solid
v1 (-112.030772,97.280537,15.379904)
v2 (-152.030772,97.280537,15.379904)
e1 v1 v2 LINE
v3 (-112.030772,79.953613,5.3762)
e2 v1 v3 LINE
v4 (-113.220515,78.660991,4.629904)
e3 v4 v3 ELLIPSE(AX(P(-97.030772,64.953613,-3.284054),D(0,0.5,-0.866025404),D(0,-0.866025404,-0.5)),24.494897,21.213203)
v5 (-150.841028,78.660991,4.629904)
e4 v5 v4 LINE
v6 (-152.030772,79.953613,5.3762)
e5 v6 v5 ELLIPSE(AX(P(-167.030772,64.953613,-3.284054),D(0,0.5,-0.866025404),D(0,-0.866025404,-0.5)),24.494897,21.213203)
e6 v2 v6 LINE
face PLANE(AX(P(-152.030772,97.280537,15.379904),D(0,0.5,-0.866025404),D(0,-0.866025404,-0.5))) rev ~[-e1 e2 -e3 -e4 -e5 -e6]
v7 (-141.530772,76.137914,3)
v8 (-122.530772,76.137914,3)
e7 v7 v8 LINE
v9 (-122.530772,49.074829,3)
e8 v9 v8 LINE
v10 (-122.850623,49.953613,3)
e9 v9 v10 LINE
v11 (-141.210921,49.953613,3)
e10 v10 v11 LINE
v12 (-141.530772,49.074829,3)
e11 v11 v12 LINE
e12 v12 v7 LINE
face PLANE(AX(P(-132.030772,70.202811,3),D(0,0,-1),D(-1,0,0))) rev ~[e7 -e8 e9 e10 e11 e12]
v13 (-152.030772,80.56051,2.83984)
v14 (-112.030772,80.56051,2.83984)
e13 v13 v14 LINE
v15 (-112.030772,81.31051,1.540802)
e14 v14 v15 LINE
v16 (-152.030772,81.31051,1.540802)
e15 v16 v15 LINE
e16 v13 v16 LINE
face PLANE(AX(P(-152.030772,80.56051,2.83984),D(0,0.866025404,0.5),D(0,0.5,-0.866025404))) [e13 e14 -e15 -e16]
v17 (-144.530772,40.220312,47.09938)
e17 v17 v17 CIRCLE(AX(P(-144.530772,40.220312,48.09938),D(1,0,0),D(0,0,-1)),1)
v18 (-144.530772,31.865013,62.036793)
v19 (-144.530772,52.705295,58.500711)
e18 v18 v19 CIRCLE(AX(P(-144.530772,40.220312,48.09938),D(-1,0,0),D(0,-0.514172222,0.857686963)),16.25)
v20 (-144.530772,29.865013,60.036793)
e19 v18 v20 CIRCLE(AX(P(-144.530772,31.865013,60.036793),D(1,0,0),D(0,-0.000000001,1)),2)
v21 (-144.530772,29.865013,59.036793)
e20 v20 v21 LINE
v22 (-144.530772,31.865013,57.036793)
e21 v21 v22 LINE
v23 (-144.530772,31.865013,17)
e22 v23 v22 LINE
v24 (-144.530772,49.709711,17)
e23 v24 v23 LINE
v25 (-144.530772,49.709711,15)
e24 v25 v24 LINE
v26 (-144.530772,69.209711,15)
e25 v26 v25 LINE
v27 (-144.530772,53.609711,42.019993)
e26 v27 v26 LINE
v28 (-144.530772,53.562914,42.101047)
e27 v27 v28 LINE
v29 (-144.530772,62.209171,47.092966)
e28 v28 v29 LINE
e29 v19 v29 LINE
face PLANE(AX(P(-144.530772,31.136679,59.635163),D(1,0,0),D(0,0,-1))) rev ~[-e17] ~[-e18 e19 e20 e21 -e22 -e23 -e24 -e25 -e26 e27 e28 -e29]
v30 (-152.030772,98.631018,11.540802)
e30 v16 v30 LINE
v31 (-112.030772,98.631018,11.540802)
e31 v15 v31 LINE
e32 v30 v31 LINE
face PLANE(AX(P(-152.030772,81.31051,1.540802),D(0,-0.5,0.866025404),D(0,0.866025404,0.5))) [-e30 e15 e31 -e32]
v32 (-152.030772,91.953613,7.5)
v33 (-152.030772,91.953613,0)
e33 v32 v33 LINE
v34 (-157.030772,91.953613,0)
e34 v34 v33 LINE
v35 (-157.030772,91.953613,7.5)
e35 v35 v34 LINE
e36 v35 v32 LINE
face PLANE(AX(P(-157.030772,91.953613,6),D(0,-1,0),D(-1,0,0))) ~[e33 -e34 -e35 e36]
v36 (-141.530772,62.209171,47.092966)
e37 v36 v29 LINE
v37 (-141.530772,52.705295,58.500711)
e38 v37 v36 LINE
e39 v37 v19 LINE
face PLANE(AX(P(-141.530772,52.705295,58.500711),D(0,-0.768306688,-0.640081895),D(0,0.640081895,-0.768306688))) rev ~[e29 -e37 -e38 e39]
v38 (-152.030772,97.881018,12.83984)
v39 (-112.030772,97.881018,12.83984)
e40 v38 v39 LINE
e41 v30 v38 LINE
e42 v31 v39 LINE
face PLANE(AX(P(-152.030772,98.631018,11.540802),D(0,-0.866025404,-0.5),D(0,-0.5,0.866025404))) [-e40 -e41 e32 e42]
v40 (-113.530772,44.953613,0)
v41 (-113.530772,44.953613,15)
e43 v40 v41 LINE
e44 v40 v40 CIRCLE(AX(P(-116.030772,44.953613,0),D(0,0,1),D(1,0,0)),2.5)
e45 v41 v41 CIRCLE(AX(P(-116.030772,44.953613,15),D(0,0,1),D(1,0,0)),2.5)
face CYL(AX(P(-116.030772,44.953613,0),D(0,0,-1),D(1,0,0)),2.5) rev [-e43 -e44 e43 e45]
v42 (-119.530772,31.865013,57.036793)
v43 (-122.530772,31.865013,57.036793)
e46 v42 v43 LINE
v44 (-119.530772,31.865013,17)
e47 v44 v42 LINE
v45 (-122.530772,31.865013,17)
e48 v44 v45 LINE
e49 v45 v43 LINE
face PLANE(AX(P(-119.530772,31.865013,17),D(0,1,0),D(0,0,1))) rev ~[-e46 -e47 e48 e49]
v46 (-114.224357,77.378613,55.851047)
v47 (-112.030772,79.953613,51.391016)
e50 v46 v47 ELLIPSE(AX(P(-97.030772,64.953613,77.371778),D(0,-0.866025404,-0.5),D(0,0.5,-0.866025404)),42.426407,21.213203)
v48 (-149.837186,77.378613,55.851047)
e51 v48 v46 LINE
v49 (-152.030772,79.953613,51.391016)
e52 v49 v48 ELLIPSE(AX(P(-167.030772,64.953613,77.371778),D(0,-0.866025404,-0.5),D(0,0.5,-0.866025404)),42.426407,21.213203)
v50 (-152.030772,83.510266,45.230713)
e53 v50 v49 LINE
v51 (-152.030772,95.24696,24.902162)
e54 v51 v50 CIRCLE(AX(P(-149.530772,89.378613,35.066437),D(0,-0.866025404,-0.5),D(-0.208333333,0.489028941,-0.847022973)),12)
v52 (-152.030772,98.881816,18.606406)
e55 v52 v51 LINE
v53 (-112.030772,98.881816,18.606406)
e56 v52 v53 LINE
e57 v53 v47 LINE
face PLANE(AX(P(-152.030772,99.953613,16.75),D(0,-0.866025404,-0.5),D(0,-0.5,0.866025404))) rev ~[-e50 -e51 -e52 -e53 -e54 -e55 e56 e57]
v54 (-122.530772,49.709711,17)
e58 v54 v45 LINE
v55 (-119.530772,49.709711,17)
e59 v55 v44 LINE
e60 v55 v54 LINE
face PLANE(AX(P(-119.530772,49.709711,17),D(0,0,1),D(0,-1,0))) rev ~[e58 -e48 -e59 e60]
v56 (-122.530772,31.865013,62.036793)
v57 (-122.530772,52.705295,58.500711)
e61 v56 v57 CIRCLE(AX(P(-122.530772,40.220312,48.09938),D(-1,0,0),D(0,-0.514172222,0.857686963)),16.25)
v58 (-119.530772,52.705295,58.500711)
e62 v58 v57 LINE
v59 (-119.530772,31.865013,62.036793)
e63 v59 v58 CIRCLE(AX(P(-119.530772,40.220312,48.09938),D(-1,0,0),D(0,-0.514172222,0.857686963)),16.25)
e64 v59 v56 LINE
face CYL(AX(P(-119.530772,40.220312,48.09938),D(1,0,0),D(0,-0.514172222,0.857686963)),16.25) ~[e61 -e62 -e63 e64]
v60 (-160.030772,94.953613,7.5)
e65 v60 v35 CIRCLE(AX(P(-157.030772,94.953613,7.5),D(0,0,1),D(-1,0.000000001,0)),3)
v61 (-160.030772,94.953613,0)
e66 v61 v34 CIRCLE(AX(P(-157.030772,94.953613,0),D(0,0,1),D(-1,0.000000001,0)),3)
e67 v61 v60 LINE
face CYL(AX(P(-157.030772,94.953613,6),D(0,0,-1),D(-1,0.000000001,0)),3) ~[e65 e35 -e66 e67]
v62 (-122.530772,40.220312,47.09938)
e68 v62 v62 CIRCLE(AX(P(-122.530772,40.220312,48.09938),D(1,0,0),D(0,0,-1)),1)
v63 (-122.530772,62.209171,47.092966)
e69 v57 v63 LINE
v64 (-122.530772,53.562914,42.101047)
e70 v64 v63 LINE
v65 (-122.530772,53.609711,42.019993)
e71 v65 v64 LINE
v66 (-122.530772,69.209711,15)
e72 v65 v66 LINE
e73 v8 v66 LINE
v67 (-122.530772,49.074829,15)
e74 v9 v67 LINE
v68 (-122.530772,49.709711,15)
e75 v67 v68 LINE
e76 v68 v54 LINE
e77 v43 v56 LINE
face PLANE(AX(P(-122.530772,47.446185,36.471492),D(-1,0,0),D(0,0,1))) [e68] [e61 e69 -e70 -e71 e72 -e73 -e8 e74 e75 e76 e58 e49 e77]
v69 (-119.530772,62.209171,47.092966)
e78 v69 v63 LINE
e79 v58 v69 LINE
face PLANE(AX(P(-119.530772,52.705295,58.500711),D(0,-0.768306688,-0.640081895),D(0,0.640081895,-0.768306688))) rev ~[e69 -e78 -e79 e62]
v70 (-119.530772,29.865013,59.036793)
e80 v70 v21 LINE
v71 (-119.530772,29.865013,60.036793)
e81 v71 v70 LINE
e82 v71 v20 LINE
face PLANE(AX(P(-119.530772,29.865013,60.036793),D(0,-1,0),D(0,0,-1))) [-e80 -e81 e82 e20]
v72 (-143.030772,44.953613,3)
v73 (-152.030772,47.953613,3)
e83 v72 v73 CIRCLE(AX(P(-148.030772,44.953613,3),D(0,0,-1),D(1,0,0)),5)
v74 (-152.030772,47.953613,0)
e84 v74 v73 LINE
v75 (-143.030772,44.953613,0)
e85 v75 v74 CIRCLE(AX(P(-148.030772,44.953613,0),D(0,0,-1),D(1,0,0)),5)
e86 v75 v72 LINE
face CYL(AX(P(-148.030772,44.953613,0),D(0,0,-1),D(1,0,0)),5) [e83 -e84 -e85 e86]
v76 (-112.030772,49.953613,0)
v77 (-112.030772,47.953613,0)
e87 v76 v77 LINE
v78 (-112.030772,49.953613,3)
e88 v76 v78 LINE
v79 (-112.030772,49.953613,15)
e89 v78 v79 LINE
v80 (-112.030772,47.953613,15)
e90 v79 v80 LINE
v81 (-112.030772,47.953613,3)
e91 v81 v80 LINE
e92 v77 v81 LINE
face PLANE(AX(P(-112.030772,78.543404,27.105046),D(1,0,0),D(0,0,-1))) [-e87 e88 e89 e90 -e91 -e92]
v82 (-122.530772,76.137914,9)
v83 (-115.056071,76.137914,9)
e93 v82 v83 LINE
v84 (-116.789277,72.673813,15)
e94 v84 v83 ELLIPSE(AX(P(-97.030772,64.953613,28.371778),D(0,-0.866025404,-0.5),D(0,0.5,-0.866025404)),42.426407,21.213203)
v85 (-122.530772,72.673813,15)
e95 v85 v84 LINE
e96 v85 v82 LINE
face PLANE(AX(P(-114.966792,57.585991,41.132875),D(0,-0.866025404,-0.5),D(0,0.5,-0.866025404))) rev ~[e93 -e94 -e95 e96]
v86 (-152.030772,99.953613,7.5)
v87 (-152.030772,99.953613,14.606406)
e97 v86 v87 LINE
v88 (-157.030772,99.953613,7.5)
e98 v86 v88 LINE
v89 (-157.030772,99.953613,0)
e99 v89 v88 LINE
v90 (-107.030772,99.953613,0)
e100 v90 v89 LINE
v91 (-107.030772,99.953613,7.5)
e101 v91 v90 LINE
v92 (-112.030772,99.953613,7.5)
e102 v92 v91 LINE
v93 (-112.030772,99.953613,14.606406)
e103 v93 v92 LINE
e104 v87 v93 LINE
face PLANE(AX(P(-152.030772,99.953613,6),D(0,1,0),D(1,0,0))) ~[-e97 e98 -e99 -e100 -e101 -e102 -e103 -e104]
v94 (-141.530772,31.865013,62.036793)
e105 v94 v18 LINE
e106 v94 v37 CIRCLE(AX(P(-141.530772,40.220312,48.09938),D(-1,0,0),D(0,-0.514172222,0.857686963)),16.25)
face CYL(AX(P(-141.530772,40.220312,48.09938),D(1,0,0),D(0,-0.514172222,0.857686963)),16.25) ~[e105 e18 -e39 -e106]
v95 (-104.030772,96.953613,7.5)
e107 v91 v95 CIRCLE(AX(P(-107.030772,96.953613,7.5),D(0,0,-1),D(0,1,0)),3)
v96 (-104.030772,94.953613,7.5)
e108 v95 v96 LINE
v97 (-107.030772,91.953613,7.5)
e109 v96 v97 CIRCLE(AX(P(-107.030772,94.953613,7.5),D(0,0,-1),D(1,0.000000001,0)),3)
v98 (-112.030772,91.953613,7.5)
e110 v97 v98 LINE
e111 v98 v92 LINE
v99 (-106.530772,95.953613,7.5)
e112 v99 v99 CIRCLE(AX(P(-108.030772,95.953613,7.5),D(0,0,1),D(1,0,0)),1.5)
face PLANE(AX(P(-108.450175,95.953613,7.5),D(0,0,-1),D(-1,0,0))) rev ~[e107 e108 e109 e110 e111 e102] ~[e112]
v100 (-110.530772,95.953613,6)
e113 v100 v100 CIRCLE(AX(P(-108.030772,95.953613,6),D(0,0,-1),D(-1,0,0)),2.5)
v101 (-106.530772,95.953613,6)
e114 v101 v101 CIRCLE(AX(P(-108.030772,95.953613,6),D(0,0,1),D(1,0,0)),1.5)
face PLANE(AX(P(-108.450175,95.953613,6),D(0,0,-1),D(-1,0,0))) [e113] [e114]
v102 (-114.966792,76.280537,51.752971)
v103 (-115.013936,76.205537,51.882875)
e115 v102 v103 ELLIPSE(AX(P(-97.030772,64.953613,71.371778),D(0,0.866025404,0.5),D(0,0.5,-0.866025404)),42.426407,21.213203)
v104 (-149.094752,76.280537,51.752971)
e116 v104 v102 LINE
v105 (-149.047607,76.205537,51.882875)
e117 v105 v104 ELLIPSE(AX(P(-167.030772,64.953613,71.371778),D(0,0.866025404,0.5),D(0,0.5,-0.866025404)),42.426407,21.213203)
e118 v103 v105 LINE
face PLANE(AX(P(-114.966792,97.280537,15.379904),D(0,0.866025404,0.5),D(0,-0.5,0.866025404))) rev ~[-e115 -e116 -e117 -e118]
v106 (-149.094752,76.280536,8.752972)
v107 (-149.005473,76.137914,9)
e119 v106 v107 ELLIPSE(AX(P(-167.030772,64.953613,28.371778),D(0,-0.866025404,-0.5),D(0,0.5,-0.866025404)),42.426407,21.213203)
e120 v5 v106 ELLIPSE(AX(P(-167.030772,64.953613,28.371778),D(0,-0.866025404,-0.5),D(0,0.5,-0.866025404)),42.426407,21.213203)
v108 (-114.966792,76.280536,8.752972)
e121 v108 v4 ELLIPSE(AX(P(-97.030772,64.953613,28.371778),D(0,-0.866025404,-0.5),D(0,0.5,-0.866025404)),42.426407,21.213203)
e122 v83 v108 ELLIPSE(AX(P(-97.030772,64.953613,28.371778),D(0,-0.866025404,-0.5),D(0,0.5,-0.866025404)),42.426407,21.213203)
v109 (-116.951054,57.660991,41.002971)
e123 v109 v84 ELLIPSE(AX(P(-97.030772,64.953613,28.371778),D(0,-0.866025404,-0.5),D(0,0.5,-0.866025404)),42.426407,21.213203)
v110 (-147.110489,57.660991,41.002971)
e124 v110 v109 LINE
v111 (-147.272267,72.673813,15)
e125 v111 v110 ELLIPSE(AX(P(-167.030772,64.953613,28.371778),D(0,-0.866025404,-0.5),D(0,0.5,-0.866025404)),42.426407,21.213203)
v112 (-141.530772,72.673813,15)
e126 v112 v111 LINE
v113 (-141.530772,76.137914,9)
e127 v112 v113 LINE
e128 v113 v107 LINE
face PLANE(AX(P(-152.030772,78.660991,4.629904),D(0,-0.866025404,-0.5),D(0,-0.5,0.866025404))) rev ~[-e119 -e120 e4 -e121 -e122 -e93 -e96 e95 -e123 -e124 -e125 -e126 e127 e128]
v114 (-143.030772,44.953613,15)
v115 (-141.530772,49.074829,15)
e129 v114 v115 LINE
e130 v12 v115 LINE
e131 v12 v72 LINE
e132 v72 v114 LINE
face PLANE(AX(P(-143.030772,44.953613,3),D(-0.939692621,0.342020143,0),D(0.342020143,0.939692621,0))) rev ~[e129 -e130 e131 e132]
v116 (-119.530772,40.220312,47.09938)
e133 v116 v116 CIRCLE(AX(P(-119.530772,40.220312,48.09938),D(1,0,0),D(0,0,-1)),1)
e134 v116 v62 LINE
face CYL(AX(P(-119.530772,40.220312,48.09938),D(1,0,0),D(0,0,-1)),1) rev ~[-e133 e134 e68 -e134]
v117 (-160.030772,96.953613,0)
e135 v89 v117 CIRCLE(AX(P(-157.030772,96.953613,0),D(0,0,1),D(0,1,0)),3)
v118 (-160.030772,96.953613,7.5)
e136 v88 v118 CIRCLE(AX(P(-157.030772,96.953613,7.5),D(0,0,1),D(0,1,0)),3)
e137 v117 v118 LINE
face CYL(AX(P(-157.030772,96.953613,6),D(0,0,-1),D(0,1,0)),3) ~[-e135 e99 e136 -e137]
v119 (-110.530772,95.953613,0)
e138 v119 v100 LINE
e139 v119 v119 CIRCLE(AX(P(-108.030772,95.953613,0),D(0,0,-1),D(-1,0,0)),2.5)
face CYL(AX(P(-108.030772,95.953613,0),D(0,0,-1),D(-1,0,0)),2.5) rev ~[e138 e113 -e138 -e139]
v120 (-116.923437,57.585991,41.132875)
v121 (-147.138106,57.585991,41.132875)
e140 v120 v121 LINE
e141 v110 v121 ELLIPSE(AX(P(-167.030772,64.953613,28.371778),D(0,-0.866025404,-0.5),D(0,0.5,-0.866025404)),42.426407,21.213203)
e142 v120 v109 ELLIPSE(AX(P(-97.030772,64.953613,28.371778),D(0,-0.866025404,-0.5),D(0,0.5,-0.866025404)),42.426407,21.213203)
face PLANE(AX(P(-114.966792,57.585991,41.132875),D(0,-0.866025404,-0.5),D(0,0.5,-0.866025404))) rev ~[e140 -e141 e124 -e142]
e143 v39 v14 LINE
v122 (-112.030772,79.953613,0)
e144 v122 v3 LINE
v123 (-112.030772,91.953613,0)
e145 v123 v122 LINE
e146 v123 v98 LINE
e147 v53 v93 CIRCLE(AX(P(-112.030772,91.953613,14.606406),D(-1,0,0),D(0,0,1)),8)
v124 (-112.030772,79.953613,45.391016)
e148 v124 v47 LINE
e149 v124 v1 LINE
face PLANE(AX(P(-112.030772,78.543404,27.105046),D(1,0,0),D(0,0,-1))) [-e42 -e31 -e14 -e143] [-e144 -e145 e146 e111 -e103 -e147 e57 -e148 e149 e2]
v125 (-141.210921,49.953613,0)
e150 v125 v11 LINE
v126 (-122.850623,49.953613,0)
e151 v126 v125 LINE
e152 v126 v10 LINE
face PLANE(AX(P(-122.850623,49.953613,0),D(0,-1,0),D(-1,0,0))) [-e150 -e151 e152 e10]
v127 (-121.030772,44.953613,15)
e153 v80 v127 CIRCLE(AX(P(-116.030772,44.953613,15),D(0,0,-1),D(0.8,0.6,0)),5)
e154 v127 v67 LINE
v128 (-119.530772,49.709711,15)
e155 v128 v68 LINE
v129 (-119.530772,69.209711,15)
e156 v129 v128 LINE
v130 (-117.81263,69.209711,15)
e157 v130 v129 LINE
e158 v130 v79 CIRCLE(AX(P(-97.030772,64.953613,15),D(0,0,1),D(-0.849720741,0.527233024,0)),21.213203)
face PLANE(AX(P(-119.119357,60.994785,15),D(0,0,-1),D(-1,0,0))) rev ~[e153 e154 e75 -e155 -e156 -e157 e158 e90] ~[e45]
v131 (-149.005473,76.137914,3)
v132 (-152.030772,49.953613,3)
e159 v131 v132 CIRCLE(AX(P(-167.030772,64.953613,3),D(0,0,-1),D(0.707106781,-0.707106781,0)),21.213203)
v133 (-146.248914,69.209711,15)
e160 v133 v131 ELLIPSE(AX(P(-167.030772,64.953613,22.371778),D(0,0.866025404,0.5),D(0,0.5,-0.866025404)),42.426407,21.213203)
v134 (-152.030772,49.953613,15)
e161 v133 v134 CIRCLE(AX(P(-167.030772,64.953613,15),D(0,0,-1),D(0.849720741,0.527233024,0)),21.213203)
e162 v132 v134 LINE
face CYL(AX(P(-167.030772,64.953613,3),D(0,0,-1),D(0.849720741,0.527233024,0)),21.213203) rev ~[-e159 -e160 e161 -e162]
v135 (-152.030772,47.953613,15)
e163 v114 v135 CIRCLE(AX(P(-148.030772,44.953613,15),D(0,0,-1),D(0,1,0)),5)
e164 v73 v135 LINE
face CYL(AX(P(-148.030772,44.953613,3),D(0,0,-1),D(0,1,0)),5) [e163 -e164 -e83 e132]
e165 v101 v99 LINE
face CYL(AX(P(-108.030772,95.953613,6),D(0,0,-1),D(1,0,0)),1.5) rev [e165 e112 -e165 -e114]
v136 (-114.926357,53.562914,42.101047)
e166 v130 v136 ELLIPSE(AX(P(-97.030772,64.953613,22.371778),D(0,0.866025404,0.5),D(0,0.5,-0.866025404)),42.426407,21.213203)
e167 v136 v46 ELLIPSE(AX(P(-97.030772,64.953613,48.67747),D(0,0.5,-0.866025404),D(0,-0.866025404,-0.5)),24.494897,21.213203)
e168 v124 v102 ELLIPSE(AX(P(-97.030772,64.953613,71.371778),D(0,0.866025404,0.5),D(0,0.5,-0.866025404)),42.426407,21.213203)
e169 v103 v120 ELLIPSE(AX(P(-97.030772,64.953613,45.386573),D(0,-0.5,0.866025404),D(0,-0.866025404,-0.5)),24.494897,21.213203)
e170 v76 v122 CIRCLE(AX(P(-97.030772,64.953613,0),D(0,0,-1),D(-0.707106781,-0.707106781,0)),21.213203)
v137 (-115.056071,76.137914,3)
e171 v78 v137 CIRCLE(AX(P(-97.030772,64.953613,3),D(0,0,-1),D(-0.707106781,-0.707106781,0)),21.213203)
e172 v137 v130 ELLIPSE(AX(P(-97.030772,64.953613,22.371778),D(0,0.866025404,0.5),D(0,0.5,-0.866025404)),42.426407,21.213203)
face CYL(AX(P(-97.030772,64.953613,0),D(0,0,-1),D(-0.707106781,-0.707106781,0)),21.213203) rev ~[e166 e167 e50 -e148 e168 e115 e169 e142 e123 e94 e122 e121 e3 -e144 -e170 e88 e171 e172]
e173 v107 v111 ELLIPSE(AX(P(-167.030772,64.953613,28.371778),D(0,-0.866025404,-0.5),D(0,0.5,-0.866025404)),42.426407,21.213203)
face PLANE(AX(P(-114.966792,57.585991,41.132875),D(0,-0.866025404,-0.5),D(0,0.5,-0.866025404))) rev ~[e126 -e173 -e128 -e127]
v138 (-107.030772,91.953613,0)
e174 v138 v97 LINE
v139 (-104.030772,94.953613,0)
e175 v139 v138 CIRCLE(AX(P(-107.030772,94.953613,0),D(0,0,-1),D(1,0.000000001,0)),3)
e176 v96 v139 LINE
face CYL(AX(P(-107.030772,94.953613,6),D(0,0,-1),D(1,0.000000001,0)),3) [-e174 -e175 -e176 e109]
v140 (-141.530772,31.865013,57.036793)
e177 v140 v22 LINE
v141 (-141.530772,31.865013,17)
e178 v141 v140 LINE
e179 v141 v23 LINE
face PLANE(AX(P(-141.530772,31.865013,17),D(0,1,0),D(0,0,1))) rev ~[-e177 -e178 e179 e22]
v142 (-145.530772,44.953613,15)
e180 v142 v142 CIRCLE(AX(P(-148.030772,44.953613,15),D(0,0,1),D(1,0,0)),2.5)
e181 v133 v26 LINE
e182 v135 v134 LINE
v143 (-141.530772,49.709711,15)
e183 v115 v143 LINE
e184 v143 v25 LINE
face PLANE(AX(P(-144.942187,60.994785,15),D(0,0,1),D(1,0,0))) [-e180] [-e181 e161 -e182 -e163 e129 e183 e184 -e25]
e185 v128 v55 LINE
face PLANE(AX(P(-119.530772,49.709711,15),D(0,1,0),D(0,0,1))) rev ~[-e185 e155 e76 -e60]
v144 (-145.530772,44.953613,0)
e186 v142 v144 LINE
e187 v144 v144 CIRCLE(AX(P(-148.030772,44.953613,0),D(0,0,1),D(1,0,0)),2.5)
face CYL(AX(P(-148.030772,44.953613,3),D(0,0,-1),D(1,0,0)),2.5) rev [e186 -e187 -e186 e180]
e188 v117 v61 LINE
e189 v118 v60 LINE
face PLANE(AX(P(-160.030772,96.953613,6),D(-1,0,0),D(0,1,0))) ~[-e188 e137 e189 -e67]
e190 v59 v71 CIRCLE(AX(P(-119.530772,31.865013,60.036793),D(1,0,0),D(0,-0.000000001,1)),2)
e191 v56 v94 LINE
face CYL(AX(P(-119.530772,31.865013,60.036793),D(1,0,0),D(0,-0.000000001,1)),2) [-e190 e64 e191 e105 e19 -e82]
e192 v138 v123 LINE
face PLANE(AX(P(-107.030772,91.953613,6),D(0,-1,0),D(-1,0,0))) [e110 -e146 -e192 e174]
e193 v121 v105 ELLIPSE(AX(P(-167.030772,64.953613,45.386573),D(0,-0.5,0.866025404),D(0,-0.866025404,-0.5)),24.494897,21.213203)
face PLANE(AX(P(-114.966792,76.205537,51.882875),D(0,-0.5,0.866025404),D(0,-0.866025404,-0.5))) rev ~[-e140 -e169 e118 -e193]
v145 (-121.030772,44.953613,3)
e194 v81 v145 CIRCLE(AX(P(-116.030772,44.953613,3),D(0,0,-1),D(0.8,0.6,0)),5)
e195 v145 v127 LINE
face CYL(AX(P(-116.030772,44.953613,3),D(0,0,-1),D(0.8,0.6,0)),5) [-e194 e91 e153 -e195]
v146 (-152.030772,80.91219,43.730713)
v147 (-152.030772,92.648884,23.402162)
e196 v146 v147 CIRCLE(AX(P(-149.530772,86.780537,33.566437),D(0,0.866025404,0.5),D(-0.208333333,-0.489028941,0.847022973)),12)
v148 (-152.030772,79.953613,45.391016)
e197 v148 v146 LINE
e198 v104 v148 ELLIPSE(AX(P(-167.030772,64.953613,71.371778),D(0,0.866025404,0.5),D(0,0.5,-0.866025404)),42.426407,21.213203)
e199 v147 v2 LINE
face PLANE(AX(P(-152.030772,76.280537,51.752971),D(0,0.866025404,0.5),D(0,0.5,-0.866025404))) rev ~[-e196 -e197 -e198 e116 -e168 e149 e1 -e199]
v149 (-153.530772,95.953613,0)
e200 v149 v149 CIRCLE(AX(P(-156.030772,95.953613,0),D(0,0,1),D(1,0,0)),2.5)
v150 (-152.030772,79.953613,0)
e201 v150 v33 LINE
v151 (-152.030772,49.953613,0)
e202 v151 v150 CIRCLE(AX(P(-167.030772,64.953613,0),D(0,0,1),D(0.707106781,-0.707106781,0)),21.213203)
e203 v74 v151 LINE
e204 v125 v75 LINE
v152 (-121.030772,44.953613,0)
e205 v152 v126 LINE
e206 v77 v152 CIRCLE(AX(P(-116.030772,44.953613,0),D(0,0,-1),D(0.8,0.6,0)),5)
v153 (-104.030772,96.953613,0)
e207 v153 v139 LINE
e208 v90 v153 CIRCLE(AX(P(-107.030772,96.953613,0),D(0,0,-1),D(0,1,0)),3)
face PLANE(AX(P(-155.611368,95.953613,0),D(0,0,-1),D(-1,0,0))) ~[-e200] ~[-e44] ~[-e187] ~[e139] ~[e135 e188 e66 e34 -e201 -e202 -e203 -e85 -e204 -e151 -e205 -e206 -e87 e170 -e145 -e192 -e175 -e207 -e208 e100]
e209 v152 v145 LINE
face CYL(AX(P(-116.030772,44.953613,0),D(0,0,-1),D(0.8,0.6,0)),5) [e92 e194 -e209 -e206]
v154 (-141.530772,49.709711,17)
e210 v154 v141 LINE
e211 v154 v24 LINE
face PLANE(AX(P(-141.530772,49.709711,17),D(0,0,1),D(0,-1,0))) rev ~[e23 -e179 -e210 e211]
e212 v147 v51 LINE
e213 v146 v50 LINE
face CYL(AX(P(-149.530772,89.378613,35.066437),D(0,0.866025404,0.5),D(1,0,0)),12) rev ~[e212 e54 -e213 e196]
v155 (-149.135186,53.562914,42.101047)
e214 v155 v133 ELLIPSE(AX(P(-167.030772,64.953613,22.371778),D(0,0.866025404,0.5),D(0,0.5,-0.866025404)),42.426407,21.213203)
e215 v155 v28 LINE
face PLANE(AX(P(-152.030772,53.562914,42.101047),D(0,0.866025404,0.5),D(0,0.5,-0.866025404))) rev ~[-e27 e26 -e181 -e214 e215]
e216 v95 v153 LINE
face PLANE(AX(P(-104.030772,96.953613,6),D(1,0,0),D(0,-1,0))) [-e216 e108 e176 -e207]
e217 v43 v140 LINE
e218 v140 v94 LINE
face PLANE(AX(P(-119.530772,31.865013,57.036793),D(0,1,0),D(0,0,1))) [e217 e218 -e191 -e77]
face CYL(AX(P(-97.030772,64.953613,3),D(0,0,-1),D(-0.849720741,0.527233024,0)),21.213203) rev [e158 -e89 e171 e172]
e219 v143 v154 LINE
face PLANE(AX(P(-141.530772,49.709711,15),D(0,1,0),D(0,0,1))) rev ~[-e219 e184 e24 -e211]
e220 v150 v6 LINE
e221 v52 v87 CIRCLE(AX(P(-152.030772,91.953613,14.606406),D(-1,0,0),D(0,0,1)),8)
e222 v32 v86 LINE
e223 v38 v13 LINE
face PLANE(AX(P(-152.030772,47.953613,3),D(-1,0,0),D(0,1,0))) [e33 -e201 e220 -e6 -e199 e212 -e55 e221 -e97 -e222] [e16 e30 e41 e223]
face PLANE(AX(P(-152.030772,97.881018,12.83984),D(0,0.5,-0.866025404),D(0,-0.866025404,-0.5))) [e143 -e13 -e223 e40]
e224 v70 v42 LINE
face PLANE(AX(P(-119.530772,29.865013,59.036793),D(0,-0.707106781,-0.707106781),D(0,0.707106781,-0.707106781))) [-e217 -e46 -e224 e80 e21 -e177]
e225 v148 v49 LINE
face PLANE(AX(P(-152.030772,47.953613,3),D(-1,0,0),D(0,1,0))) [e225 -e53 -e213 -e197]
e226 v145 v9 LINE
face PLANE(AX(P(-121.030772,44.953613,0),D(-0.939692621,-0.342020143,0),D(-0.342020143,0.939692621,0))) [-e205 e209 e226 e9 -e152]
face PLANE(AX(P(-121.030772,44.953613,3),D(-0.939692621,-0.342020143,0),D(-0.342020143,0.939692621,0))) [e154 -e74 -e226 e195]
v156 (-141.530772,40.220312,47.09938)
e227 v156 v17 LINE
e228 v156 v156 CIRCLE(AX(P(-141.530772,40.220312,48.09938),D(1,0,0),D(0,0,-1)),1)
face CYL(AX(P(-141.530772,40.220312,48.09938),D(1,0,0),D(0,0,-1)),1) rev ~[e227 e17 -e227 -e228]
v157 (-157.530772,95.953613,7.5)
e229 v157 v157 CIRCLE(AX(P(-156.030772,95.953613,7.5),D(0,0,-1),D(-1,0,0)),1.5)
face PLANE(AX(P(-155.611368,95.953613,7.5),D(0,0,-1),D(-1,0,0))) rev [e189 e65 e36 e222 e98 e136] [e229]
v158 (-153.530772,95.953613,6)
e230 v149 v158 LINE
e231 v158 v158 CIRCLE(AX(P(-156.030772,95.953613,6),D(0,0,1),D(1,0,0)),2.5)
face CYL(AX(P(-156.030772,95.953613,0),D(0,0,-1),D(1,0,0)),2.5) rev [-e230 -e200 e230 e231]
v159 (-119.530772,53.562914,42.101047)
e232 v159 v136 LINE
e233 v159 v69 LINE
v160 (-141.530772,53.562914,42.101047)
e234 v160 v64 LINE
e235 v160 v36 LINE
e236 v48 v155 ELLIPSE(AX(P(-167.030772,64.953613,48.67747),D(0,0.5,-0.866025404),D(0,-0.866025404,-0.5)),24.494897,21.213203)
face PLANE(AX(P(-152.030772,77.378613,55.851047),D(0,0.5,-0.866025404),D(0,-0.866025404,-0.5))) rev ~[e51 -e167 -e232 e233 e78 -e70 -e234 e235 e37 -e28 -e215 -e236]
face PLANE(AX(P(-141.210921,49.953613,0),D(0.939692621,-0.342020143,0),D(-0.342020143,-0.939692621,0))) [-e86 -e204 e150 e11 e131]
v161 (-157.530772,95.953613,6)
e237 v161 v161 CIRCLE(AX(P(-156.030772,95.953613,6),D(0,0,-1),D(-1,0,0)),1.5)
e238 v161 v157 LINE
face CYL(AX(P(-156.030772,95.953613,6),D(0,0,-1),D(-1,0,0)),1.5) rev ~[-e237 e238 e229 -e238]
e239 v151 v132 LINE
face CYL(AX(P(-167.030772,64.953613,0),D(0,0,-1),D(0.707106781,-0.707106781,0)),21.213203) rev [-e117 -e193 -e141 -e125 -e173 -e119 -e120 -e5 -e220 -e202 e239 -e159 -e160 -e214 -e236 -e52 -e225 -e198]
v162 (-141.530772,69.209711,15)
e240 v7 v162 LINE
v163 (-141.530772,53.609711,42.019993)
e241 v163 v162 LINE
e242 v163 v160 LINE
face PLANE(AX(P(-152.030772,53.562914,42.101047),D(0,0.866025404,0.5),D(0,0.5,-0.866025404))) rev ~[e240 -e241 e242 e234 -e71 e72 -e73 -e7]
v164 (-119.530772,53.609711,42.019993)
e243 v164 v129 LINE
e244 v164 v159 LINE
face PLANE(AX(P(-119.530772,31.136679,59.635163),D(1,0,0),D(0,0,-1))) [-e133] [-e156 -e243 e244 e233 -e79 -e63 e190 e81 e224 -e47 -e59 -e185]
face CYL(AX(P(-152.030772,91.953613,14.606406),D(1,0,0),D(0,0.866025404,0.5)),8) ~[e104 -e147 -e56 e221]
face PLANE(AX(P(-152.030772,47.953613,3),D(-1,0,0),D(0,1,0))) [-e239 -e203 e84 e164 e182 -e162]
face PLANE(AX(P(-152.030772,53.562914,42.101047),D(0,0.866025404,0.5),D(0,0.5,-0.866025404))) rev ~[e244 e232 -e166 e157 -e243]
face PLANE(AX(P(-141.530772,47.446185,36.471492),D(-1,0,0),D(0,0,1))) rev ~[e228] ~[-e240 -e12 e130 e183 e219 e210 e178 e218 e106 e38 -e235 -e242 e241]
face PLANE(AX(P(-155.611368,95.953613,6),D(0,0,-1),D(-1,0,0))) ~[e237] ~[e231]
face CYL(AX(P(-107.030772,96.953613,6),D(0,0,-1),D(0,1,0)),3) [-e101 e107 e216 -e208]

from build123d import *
from build123d.topology import SkipClean

# Parameters (mm, degrees)
CROQUIS2_R               = 2.5
SALIENTE_EXTRUIR1_DEPTH  = 3
SALIENTE_EXTRUIR2_DEPTH  = 40
CROQUIS4_R               = 2.5
SALIENTE_EXTRUIR3_DEPTH  = 12
CROQUIS7_R               = 12
CORTAR_EXTRUIR1_DEPTH    = 3
CORTAR_EXTRUIR2_DEPTH    = 55.85105
CORTAR_EXTRUIR3_DEPTH    = 40
SALIENTE_EXTRUIR7_DEPTH  = 12
CORTAR_EXTRUIR4_START    = -37.06398
CORTAR_EXTRUIR4_DEPTH    = 34.12796
CROQUIS15_R              = 1
SALIENTE_EXTRUIR8_DEPTH  = 3
SALIENTE_EXTRUIR9_START  = 22
CROQUIS15_2_R            = 1
SALIENTE_EXTRUIR9_DEPTH  = 3
REDONDEO2_R              = 8
CROQUIS32_R              = 2.5
SALIENTE_EXTRUIR14_DEPTH = 6
CROQUIS33_R              = 1.5
SALIENTE_EXTRUIR15_DEPTH = 1.5
SALIENTE_EXTRUIR16_START = -25
SALIENTE_EXTRUIR16_DEPTH = 25


with BuildPart() as part:
    # Croquis2 → Saliente-Extruir1 (new body)
    with BuildSketch(Plane.XY):
        with BuildLine():
            Line((-152.030771759, 47.953613054), (-152.030771759, 99.953613054))
            Line((-152.030771759, 99.953613054), (-112.030771759, 99.953613054))
            Line((-112.030771759, 99.953613054), (-112.030771759, 47.953613054))
            ThreePointArc((-112.030771759, 47.953613054), (-114.449632929, 40.210196563), (-121.030771759, 44.953613054))
            Line((-121.030771759, 44.953613054), (-122.85062293, 49.953613054))
            Line((-122.85062293, 49.953613054), (-141.210920588, 49.953613054))
            Line((-141.210920588, 49.953613054), (-143.030771759, 44.953613054))
            ThreePointArc((-143.030771759, 44.953613054), (-149.611910589, 40.210196563), (-152.030771759, 47.953613054))
        make_face()
        with Locations((-148.030771759, 44.953613054)):
            Circle(CROQUIS2_R, mode=Mode.SUBTRACT)
        with Locations((-116.030771759, 44.953613054)):
            Circle(CROQUIS2_R, mode=Mode.SUBTRACT)
    extrude(amount=SALIENTE_EXTRUIR1_DEPTH)

    # Croquis3 → Saliente-Extruir2 (add)
    with BuildSketch(Plane.ZY.offset(152.030771759)):
        Polygon((3, 99.953613054), (16.75, 99.953613054), (55.851046981, 77.378613054), (42.101046981, 53.56291445), (3, 76.13791445), align=None)
        Polygon((15.379903811, 97.280536842), (4.629903811, 78.660990661), (41.00297077, 57.660990661), (51.75297077, 76.280536842), align=None, mode=Mode.SUBTRACT)
    extrude(amount=-SALIENTE_EXTRUIR2_DEPTH)

    # Croquis4 → Saliente-Extruir3 (add)
    # profile 1 of 2: a face of its own
    with BuildSketch(Plane.XY.offset(3)):
        with BuildLine():
            Line((-152.030771759, 47.953613054), (-152.030771759, 49.953613054))
            Line((-152.030771759, 49.953613054), (-148.030771759, 49.953613054))
            ThreePointArc((-148.030771759, 49.953613054), (-145.794703781, 40.481477099), (-152.030771759, 47.953613054))
        make_face()
        with Locations((-148.030771759, 44.953613054)):
            Circle(CROQUIS4_R, mode=Mode.SUBTRACT)
    # profile 2 of 2: a face of its own
    with BuildSketch(Plane.XY.offset(3)):
        with BuildLine():
            Line((-112.030771759, 49.953613054), (-112.030771759, 47.953613054))
            ThreePointArc((-112.030771759, 47.953613054), (-118.266839736, 40.481477099), (-116.030771759, 49.953613054))
            Line((-116.030771759, 49.953613054), (-112.030771759, 49.953613054))
        make_face()
        with Locations((-116.030771759, 44.953613054)):
            Circle(CROQUIS4_R, mode=Mode.SUBTRACT)
    extrude(amount=SALIENTE_EXTRUIR3_DEPTH)

    # Croquis7 → Cortar-Extruir1 (cut)
    with BuildSketch(Plane(origin=(0, 82.218172547, 47.468684052), x_dir=(1, 0, 0), z_dir=(0, 0.8660254037844387, 0.4999999999999998))):
        with Locations((-149.530771759, 14.320881013)):
            Circle(CROQUIS7_R)
    extrude(amount=-CORTAR_EXTRUIR1_DEPTH, mode=Mode.SUBTRACT)

    # Croquis10 → Cortar-Extruir2 (cut)
    with BuildSketch(Plane(origin=(0, 0, 0), x_dir=(-1, 0, 0), z_dir=(0, 0, -1))):
        with BuildLine():
            Line((152.030771759, 79.953613054), (152.030771759, 49.953613054))
            ThreePointArc((152.030771759, 49.953613054), (145.817568323, 64.953613054), (152.030771759, 79.953613054))
        make_face()
        with BuildLine():
            Line((112.030771759, 79.953613054), (112.030771759, 49.953613054))
            ThreePointArc((112.030771759, 49.953613054), (118.243975195, 64.953613054), (112.030771759, 79.953613054))
        make_face()
    extrude(amount=-CORTAR_EXTRUIR2_DEPTH, mode=Mode.SUBTRACT)

    # Croquis11 → Cortar-Extruir3 (cut)
    with BuildSketch(Plane.ZY.offset(152.030771759)):
        Polygon((12.839840301, 97.881017789), (2.839840301, 80.560509714), (1.540802195, 81.310509714), (11.540802195, 98.631017789), align=None)
    extrude(amount=-CORTAR_EXTRUIR3_DEPTH, mode=Mode.SUBTRACT)

    # Croquis12 → Saliente-Extruir7 (add)
    with SkipClean():  # the faces are left unmerged after this step: merging them gives an invalid solid
        with BuildSketch(Plane.XY.offset(3)):
            with BuildLine():
                Line((-152.030771759, 49.953613054), (-148.030771759, 49.953613054))
                ThreePointArc((-148.030771759, 49.953613054), (-144.495237853, 48.48914696), (-143.030771759, 44.953613054))
                Line((-143.030771759, 44.953613054), (-141.530771759, 49.074829183))
                Line((-141.530771759, 49.074829183), (-141.530771759, 76.13791445))
                Line((-141.530771759, 76.13791445), (-149.005472808, 76.13791445))
                ThreePointArc((-149.005472808, 76.13791445), (-145.957755776, 62.518865142), (-152.030771759, 49.953613054))
            make_face()
            with BuildLine():
                Line((-121.030771759, 44.953613054), (-122.530771759, 49.074829183))
                Line((-122.530771759, 49.074829183), (-122.530771759, 76.13791445))
                Line((-122.530771759, 76.13791445), (-115.05607071, 76.13791445))
                ThreePointArc((-115.05607071, 76.13791445), (-118.103787742, 62.518865142), (-112.030771759, 49.953613054))
                Line((-112.030771759, 49.953613054), (-116.030771759, 49.953613054))
                ThreePointArc((-116.030771759, 49.953613054), (-119.566305665, 48.48914696), (-121.030771759, 44.953613054))
            make_face()
        extrude(amount=SALIENTE_EXTRUIR7_DEPTH)

    # Croquis14 → Cortar-Extruir4 (cut)
    with BuildSketch(Plane.ZY.offset(152.030771759).offset(CORTAR_EXTRUIR4_START)):
        Polygon((15.379903811, 97.280536842), (51.88287458, 76.205536842), (41.13287458, 57.585990661), (4.629903811, 78.660990661), align=None)
    extrude(amount=CORTAR_EXTRUIR4_DEPTH, mode=Mode.SUBTRACT)

    # Croquis15 → Saliente-Extruir8 (add)
    with BuildSketch(Plane(origin=(-141.530771759, 0, 0), x_dir=(0, 0, -1), z_dir=(1, 0, 0))):
        with BuildLine():
            Line((-15, 69.209711219), (-15, 49.709711219))
            Line((-15, 49.709711219), (-17, 49.709711219))
            Line((-17, 49.709711219), (-17, 31.865013093))
            Line((-17, 31.865013093), (-50.633644315, 31.865013093))
            Line((-50.633644315, 31.865013093), (-62.036793098, 31.865013093))
            ThreePointArc((-62.036793098, 31.865013093), (-64.120396014, 42.938683324), (-58.500710752, 52.705295379))
            Line((-58.500710752, 52.705295379), (-47.019992598, 62.269965257))
            Line((-47.019992598, 62.269965257), (-42.019992598, 53.609711219))
            Line((-42.019992598, 53.609711219), (-15, 69.209711219))
        make_face()
        with Locations((-48.09937995, 40.220311696)):
            Circle(CROQUIS15_R, mode=Mode.SUBTRACT)
    extrude(amount=-SALIENTE_EXTRUIR8_DEPTH)

    # Croquis15<2> → Saliente-Extruir9 (add)
    with BuildSketch(Plane(origin=(-141.530771759, 0, 0), x_dir=(0, 0, -1), z_dir=(1, 0, 0)).offset(SALIENTE_EXTRUIR9_START)):
        with BuildLine():
            Line((-15, 69.209711219), (-15, 49.709711219))
            Line((-15, 49.709711219), (-17, 49.709711219))
            Line((-17, 49.709711219), (-17, 31.865013093))
            Line((-17, 31.865013093), (-50.633644315, 31.865013093))
            Line((-50.633644315, 31.865013093), (-62.036793098, 31.865013093))
            ThreePointArc((-62.036793098, 31.865013093), (-64.120396014, 42.938683324), (-58.500710752, 52.705295379))
            Line((-58.500710752, 52.705295379), (-47.019992598, 62.269965257))
            Line((-47.019992598, 62.269965257), (-42.019992598, 53.609711219))
            Line((-42.019992598, 53.609711219), (-15, 69.209711219))
        make_face()
        with Locations((-48.09937995, 40.220311696)):
            Circle(CROQUIS15_2_R, mode=Mode.SUBTRACT)
    extrude(amount=-SALIENTE_EXTRUIR9_DEPTH)

    # Redondeo2
    redondeo2_edges = [part.edges().sort_by_distance(p)[0] for p in [
        (-132.030771759, 99.953613054, 16.75),
    ]]
    fillet(redondeo2_edges, radius=REDONDEO2_R)

    # Croquis32 → Saliente-Extruir14 (add)
    with BuildSketch(Plane(origin=(0, 0, 0), x_dir=(-1, 0, 0), z_dir=(0, 0, -1))):
        with BuildLine():
            Line((112.030771759, 99.953613054), (107.030771759, 99.953613054))
            ThreePointArc((107.030771759, 99.953613054), (104.909451415, 99.074933397), (104.030771759, 96.953613054))
            Line((104.030771759, 96.953613054), (104.030771759, 94.953613054))
            ThreePointArc((104.030771759, 94.953613054), (104.909451415, 92.83229271), (107.030771759, 91.953613054))
            Line((107.030771759, 91.953613054), (112.030771759, 91.953613054))
            Line((112.030771759, 91.953613054), (112.030771759, 99.953613054))
        make_face()
        with Locations((108.030771759, 95.953613054)):
            Circle(CROQUIS32_R, mode=Mode.SUBTRACT)
    saliente_extruir14 = extrude(amount=-SALIENTE_EXTRUIR14_DEPTH)

    # Croquis33 → Saliente-Extruir15 (add)
    with BuildSketch(Plane.XY.offset(6)):
        with BuildLine():
            Line((-112.030771759, 99.953613054), (-107.030771759, 99.953613054))
            ThreePointArc((-107.030771759, 99.953613054), (-104.909451415, 99.074933397), (-104.030771759, 96.953613054))
            Line((-104.030771759, 96.953613054), (-104.030771759, 94.953613054))
            ThreePointArc((-104.030771759, 94.953613054), (-104.909451415, 92.83229271), (-107.030771759, 91.953613054))
            Line((-107.030771759, 91.953613054), (-112.030771759, 91.953613054))
            Line((-112.030771759, 91.953613054), (-112.030771759, 99.953613054))
        make_face()
        with Locations((-108.030771759, 95.953613054)):
            Circle(CROQUIS33_R, mode=Mode.SUBTRACT)
    saliente_extruir15 = extrude(amount=SALIENTE_EXTRUIR15_DEPTH)

    # Simetría1: Saliente-Extruir14, Saliente-Extruir15 across plane
    add(saliente_extruir14.mirror(Plane(origin=(-132.030771759, 0, 0), x_dir=(0, 0, 1), z_dir=(1, 0, 0))))
    add(saliente_extruir15.mirror(Plane(origin=(-132.030771759, 0, 0), x_dir=(0, 0, 1), z_dir=(1, 0, 0))))

    # Croquis36 → Saliente-Extruir16 (add)
    with BuildSketch(Plane.ZY.offset(144.530771759).offset(SALIENTE_EXTRUIR16_START)):
        with BuildLine():
            Line((57.036793098, 31.865013093), (62.036793098, 31.865013093))
            ThreePointArc((62.036793098, 31.865013093), (61.45100666, 30.450799531), (60.036793098, 29.865013093))
            Line((60.036793098, 29.865013093), (59.036793098, 29.865013093))
            Line((59.036793098, 29.865013093), (57.036793098, 31.865013093))
        make_face()
    extrude(amount=SALIENTE_EXTRUIR16_DEPTH)


solid = part.part
